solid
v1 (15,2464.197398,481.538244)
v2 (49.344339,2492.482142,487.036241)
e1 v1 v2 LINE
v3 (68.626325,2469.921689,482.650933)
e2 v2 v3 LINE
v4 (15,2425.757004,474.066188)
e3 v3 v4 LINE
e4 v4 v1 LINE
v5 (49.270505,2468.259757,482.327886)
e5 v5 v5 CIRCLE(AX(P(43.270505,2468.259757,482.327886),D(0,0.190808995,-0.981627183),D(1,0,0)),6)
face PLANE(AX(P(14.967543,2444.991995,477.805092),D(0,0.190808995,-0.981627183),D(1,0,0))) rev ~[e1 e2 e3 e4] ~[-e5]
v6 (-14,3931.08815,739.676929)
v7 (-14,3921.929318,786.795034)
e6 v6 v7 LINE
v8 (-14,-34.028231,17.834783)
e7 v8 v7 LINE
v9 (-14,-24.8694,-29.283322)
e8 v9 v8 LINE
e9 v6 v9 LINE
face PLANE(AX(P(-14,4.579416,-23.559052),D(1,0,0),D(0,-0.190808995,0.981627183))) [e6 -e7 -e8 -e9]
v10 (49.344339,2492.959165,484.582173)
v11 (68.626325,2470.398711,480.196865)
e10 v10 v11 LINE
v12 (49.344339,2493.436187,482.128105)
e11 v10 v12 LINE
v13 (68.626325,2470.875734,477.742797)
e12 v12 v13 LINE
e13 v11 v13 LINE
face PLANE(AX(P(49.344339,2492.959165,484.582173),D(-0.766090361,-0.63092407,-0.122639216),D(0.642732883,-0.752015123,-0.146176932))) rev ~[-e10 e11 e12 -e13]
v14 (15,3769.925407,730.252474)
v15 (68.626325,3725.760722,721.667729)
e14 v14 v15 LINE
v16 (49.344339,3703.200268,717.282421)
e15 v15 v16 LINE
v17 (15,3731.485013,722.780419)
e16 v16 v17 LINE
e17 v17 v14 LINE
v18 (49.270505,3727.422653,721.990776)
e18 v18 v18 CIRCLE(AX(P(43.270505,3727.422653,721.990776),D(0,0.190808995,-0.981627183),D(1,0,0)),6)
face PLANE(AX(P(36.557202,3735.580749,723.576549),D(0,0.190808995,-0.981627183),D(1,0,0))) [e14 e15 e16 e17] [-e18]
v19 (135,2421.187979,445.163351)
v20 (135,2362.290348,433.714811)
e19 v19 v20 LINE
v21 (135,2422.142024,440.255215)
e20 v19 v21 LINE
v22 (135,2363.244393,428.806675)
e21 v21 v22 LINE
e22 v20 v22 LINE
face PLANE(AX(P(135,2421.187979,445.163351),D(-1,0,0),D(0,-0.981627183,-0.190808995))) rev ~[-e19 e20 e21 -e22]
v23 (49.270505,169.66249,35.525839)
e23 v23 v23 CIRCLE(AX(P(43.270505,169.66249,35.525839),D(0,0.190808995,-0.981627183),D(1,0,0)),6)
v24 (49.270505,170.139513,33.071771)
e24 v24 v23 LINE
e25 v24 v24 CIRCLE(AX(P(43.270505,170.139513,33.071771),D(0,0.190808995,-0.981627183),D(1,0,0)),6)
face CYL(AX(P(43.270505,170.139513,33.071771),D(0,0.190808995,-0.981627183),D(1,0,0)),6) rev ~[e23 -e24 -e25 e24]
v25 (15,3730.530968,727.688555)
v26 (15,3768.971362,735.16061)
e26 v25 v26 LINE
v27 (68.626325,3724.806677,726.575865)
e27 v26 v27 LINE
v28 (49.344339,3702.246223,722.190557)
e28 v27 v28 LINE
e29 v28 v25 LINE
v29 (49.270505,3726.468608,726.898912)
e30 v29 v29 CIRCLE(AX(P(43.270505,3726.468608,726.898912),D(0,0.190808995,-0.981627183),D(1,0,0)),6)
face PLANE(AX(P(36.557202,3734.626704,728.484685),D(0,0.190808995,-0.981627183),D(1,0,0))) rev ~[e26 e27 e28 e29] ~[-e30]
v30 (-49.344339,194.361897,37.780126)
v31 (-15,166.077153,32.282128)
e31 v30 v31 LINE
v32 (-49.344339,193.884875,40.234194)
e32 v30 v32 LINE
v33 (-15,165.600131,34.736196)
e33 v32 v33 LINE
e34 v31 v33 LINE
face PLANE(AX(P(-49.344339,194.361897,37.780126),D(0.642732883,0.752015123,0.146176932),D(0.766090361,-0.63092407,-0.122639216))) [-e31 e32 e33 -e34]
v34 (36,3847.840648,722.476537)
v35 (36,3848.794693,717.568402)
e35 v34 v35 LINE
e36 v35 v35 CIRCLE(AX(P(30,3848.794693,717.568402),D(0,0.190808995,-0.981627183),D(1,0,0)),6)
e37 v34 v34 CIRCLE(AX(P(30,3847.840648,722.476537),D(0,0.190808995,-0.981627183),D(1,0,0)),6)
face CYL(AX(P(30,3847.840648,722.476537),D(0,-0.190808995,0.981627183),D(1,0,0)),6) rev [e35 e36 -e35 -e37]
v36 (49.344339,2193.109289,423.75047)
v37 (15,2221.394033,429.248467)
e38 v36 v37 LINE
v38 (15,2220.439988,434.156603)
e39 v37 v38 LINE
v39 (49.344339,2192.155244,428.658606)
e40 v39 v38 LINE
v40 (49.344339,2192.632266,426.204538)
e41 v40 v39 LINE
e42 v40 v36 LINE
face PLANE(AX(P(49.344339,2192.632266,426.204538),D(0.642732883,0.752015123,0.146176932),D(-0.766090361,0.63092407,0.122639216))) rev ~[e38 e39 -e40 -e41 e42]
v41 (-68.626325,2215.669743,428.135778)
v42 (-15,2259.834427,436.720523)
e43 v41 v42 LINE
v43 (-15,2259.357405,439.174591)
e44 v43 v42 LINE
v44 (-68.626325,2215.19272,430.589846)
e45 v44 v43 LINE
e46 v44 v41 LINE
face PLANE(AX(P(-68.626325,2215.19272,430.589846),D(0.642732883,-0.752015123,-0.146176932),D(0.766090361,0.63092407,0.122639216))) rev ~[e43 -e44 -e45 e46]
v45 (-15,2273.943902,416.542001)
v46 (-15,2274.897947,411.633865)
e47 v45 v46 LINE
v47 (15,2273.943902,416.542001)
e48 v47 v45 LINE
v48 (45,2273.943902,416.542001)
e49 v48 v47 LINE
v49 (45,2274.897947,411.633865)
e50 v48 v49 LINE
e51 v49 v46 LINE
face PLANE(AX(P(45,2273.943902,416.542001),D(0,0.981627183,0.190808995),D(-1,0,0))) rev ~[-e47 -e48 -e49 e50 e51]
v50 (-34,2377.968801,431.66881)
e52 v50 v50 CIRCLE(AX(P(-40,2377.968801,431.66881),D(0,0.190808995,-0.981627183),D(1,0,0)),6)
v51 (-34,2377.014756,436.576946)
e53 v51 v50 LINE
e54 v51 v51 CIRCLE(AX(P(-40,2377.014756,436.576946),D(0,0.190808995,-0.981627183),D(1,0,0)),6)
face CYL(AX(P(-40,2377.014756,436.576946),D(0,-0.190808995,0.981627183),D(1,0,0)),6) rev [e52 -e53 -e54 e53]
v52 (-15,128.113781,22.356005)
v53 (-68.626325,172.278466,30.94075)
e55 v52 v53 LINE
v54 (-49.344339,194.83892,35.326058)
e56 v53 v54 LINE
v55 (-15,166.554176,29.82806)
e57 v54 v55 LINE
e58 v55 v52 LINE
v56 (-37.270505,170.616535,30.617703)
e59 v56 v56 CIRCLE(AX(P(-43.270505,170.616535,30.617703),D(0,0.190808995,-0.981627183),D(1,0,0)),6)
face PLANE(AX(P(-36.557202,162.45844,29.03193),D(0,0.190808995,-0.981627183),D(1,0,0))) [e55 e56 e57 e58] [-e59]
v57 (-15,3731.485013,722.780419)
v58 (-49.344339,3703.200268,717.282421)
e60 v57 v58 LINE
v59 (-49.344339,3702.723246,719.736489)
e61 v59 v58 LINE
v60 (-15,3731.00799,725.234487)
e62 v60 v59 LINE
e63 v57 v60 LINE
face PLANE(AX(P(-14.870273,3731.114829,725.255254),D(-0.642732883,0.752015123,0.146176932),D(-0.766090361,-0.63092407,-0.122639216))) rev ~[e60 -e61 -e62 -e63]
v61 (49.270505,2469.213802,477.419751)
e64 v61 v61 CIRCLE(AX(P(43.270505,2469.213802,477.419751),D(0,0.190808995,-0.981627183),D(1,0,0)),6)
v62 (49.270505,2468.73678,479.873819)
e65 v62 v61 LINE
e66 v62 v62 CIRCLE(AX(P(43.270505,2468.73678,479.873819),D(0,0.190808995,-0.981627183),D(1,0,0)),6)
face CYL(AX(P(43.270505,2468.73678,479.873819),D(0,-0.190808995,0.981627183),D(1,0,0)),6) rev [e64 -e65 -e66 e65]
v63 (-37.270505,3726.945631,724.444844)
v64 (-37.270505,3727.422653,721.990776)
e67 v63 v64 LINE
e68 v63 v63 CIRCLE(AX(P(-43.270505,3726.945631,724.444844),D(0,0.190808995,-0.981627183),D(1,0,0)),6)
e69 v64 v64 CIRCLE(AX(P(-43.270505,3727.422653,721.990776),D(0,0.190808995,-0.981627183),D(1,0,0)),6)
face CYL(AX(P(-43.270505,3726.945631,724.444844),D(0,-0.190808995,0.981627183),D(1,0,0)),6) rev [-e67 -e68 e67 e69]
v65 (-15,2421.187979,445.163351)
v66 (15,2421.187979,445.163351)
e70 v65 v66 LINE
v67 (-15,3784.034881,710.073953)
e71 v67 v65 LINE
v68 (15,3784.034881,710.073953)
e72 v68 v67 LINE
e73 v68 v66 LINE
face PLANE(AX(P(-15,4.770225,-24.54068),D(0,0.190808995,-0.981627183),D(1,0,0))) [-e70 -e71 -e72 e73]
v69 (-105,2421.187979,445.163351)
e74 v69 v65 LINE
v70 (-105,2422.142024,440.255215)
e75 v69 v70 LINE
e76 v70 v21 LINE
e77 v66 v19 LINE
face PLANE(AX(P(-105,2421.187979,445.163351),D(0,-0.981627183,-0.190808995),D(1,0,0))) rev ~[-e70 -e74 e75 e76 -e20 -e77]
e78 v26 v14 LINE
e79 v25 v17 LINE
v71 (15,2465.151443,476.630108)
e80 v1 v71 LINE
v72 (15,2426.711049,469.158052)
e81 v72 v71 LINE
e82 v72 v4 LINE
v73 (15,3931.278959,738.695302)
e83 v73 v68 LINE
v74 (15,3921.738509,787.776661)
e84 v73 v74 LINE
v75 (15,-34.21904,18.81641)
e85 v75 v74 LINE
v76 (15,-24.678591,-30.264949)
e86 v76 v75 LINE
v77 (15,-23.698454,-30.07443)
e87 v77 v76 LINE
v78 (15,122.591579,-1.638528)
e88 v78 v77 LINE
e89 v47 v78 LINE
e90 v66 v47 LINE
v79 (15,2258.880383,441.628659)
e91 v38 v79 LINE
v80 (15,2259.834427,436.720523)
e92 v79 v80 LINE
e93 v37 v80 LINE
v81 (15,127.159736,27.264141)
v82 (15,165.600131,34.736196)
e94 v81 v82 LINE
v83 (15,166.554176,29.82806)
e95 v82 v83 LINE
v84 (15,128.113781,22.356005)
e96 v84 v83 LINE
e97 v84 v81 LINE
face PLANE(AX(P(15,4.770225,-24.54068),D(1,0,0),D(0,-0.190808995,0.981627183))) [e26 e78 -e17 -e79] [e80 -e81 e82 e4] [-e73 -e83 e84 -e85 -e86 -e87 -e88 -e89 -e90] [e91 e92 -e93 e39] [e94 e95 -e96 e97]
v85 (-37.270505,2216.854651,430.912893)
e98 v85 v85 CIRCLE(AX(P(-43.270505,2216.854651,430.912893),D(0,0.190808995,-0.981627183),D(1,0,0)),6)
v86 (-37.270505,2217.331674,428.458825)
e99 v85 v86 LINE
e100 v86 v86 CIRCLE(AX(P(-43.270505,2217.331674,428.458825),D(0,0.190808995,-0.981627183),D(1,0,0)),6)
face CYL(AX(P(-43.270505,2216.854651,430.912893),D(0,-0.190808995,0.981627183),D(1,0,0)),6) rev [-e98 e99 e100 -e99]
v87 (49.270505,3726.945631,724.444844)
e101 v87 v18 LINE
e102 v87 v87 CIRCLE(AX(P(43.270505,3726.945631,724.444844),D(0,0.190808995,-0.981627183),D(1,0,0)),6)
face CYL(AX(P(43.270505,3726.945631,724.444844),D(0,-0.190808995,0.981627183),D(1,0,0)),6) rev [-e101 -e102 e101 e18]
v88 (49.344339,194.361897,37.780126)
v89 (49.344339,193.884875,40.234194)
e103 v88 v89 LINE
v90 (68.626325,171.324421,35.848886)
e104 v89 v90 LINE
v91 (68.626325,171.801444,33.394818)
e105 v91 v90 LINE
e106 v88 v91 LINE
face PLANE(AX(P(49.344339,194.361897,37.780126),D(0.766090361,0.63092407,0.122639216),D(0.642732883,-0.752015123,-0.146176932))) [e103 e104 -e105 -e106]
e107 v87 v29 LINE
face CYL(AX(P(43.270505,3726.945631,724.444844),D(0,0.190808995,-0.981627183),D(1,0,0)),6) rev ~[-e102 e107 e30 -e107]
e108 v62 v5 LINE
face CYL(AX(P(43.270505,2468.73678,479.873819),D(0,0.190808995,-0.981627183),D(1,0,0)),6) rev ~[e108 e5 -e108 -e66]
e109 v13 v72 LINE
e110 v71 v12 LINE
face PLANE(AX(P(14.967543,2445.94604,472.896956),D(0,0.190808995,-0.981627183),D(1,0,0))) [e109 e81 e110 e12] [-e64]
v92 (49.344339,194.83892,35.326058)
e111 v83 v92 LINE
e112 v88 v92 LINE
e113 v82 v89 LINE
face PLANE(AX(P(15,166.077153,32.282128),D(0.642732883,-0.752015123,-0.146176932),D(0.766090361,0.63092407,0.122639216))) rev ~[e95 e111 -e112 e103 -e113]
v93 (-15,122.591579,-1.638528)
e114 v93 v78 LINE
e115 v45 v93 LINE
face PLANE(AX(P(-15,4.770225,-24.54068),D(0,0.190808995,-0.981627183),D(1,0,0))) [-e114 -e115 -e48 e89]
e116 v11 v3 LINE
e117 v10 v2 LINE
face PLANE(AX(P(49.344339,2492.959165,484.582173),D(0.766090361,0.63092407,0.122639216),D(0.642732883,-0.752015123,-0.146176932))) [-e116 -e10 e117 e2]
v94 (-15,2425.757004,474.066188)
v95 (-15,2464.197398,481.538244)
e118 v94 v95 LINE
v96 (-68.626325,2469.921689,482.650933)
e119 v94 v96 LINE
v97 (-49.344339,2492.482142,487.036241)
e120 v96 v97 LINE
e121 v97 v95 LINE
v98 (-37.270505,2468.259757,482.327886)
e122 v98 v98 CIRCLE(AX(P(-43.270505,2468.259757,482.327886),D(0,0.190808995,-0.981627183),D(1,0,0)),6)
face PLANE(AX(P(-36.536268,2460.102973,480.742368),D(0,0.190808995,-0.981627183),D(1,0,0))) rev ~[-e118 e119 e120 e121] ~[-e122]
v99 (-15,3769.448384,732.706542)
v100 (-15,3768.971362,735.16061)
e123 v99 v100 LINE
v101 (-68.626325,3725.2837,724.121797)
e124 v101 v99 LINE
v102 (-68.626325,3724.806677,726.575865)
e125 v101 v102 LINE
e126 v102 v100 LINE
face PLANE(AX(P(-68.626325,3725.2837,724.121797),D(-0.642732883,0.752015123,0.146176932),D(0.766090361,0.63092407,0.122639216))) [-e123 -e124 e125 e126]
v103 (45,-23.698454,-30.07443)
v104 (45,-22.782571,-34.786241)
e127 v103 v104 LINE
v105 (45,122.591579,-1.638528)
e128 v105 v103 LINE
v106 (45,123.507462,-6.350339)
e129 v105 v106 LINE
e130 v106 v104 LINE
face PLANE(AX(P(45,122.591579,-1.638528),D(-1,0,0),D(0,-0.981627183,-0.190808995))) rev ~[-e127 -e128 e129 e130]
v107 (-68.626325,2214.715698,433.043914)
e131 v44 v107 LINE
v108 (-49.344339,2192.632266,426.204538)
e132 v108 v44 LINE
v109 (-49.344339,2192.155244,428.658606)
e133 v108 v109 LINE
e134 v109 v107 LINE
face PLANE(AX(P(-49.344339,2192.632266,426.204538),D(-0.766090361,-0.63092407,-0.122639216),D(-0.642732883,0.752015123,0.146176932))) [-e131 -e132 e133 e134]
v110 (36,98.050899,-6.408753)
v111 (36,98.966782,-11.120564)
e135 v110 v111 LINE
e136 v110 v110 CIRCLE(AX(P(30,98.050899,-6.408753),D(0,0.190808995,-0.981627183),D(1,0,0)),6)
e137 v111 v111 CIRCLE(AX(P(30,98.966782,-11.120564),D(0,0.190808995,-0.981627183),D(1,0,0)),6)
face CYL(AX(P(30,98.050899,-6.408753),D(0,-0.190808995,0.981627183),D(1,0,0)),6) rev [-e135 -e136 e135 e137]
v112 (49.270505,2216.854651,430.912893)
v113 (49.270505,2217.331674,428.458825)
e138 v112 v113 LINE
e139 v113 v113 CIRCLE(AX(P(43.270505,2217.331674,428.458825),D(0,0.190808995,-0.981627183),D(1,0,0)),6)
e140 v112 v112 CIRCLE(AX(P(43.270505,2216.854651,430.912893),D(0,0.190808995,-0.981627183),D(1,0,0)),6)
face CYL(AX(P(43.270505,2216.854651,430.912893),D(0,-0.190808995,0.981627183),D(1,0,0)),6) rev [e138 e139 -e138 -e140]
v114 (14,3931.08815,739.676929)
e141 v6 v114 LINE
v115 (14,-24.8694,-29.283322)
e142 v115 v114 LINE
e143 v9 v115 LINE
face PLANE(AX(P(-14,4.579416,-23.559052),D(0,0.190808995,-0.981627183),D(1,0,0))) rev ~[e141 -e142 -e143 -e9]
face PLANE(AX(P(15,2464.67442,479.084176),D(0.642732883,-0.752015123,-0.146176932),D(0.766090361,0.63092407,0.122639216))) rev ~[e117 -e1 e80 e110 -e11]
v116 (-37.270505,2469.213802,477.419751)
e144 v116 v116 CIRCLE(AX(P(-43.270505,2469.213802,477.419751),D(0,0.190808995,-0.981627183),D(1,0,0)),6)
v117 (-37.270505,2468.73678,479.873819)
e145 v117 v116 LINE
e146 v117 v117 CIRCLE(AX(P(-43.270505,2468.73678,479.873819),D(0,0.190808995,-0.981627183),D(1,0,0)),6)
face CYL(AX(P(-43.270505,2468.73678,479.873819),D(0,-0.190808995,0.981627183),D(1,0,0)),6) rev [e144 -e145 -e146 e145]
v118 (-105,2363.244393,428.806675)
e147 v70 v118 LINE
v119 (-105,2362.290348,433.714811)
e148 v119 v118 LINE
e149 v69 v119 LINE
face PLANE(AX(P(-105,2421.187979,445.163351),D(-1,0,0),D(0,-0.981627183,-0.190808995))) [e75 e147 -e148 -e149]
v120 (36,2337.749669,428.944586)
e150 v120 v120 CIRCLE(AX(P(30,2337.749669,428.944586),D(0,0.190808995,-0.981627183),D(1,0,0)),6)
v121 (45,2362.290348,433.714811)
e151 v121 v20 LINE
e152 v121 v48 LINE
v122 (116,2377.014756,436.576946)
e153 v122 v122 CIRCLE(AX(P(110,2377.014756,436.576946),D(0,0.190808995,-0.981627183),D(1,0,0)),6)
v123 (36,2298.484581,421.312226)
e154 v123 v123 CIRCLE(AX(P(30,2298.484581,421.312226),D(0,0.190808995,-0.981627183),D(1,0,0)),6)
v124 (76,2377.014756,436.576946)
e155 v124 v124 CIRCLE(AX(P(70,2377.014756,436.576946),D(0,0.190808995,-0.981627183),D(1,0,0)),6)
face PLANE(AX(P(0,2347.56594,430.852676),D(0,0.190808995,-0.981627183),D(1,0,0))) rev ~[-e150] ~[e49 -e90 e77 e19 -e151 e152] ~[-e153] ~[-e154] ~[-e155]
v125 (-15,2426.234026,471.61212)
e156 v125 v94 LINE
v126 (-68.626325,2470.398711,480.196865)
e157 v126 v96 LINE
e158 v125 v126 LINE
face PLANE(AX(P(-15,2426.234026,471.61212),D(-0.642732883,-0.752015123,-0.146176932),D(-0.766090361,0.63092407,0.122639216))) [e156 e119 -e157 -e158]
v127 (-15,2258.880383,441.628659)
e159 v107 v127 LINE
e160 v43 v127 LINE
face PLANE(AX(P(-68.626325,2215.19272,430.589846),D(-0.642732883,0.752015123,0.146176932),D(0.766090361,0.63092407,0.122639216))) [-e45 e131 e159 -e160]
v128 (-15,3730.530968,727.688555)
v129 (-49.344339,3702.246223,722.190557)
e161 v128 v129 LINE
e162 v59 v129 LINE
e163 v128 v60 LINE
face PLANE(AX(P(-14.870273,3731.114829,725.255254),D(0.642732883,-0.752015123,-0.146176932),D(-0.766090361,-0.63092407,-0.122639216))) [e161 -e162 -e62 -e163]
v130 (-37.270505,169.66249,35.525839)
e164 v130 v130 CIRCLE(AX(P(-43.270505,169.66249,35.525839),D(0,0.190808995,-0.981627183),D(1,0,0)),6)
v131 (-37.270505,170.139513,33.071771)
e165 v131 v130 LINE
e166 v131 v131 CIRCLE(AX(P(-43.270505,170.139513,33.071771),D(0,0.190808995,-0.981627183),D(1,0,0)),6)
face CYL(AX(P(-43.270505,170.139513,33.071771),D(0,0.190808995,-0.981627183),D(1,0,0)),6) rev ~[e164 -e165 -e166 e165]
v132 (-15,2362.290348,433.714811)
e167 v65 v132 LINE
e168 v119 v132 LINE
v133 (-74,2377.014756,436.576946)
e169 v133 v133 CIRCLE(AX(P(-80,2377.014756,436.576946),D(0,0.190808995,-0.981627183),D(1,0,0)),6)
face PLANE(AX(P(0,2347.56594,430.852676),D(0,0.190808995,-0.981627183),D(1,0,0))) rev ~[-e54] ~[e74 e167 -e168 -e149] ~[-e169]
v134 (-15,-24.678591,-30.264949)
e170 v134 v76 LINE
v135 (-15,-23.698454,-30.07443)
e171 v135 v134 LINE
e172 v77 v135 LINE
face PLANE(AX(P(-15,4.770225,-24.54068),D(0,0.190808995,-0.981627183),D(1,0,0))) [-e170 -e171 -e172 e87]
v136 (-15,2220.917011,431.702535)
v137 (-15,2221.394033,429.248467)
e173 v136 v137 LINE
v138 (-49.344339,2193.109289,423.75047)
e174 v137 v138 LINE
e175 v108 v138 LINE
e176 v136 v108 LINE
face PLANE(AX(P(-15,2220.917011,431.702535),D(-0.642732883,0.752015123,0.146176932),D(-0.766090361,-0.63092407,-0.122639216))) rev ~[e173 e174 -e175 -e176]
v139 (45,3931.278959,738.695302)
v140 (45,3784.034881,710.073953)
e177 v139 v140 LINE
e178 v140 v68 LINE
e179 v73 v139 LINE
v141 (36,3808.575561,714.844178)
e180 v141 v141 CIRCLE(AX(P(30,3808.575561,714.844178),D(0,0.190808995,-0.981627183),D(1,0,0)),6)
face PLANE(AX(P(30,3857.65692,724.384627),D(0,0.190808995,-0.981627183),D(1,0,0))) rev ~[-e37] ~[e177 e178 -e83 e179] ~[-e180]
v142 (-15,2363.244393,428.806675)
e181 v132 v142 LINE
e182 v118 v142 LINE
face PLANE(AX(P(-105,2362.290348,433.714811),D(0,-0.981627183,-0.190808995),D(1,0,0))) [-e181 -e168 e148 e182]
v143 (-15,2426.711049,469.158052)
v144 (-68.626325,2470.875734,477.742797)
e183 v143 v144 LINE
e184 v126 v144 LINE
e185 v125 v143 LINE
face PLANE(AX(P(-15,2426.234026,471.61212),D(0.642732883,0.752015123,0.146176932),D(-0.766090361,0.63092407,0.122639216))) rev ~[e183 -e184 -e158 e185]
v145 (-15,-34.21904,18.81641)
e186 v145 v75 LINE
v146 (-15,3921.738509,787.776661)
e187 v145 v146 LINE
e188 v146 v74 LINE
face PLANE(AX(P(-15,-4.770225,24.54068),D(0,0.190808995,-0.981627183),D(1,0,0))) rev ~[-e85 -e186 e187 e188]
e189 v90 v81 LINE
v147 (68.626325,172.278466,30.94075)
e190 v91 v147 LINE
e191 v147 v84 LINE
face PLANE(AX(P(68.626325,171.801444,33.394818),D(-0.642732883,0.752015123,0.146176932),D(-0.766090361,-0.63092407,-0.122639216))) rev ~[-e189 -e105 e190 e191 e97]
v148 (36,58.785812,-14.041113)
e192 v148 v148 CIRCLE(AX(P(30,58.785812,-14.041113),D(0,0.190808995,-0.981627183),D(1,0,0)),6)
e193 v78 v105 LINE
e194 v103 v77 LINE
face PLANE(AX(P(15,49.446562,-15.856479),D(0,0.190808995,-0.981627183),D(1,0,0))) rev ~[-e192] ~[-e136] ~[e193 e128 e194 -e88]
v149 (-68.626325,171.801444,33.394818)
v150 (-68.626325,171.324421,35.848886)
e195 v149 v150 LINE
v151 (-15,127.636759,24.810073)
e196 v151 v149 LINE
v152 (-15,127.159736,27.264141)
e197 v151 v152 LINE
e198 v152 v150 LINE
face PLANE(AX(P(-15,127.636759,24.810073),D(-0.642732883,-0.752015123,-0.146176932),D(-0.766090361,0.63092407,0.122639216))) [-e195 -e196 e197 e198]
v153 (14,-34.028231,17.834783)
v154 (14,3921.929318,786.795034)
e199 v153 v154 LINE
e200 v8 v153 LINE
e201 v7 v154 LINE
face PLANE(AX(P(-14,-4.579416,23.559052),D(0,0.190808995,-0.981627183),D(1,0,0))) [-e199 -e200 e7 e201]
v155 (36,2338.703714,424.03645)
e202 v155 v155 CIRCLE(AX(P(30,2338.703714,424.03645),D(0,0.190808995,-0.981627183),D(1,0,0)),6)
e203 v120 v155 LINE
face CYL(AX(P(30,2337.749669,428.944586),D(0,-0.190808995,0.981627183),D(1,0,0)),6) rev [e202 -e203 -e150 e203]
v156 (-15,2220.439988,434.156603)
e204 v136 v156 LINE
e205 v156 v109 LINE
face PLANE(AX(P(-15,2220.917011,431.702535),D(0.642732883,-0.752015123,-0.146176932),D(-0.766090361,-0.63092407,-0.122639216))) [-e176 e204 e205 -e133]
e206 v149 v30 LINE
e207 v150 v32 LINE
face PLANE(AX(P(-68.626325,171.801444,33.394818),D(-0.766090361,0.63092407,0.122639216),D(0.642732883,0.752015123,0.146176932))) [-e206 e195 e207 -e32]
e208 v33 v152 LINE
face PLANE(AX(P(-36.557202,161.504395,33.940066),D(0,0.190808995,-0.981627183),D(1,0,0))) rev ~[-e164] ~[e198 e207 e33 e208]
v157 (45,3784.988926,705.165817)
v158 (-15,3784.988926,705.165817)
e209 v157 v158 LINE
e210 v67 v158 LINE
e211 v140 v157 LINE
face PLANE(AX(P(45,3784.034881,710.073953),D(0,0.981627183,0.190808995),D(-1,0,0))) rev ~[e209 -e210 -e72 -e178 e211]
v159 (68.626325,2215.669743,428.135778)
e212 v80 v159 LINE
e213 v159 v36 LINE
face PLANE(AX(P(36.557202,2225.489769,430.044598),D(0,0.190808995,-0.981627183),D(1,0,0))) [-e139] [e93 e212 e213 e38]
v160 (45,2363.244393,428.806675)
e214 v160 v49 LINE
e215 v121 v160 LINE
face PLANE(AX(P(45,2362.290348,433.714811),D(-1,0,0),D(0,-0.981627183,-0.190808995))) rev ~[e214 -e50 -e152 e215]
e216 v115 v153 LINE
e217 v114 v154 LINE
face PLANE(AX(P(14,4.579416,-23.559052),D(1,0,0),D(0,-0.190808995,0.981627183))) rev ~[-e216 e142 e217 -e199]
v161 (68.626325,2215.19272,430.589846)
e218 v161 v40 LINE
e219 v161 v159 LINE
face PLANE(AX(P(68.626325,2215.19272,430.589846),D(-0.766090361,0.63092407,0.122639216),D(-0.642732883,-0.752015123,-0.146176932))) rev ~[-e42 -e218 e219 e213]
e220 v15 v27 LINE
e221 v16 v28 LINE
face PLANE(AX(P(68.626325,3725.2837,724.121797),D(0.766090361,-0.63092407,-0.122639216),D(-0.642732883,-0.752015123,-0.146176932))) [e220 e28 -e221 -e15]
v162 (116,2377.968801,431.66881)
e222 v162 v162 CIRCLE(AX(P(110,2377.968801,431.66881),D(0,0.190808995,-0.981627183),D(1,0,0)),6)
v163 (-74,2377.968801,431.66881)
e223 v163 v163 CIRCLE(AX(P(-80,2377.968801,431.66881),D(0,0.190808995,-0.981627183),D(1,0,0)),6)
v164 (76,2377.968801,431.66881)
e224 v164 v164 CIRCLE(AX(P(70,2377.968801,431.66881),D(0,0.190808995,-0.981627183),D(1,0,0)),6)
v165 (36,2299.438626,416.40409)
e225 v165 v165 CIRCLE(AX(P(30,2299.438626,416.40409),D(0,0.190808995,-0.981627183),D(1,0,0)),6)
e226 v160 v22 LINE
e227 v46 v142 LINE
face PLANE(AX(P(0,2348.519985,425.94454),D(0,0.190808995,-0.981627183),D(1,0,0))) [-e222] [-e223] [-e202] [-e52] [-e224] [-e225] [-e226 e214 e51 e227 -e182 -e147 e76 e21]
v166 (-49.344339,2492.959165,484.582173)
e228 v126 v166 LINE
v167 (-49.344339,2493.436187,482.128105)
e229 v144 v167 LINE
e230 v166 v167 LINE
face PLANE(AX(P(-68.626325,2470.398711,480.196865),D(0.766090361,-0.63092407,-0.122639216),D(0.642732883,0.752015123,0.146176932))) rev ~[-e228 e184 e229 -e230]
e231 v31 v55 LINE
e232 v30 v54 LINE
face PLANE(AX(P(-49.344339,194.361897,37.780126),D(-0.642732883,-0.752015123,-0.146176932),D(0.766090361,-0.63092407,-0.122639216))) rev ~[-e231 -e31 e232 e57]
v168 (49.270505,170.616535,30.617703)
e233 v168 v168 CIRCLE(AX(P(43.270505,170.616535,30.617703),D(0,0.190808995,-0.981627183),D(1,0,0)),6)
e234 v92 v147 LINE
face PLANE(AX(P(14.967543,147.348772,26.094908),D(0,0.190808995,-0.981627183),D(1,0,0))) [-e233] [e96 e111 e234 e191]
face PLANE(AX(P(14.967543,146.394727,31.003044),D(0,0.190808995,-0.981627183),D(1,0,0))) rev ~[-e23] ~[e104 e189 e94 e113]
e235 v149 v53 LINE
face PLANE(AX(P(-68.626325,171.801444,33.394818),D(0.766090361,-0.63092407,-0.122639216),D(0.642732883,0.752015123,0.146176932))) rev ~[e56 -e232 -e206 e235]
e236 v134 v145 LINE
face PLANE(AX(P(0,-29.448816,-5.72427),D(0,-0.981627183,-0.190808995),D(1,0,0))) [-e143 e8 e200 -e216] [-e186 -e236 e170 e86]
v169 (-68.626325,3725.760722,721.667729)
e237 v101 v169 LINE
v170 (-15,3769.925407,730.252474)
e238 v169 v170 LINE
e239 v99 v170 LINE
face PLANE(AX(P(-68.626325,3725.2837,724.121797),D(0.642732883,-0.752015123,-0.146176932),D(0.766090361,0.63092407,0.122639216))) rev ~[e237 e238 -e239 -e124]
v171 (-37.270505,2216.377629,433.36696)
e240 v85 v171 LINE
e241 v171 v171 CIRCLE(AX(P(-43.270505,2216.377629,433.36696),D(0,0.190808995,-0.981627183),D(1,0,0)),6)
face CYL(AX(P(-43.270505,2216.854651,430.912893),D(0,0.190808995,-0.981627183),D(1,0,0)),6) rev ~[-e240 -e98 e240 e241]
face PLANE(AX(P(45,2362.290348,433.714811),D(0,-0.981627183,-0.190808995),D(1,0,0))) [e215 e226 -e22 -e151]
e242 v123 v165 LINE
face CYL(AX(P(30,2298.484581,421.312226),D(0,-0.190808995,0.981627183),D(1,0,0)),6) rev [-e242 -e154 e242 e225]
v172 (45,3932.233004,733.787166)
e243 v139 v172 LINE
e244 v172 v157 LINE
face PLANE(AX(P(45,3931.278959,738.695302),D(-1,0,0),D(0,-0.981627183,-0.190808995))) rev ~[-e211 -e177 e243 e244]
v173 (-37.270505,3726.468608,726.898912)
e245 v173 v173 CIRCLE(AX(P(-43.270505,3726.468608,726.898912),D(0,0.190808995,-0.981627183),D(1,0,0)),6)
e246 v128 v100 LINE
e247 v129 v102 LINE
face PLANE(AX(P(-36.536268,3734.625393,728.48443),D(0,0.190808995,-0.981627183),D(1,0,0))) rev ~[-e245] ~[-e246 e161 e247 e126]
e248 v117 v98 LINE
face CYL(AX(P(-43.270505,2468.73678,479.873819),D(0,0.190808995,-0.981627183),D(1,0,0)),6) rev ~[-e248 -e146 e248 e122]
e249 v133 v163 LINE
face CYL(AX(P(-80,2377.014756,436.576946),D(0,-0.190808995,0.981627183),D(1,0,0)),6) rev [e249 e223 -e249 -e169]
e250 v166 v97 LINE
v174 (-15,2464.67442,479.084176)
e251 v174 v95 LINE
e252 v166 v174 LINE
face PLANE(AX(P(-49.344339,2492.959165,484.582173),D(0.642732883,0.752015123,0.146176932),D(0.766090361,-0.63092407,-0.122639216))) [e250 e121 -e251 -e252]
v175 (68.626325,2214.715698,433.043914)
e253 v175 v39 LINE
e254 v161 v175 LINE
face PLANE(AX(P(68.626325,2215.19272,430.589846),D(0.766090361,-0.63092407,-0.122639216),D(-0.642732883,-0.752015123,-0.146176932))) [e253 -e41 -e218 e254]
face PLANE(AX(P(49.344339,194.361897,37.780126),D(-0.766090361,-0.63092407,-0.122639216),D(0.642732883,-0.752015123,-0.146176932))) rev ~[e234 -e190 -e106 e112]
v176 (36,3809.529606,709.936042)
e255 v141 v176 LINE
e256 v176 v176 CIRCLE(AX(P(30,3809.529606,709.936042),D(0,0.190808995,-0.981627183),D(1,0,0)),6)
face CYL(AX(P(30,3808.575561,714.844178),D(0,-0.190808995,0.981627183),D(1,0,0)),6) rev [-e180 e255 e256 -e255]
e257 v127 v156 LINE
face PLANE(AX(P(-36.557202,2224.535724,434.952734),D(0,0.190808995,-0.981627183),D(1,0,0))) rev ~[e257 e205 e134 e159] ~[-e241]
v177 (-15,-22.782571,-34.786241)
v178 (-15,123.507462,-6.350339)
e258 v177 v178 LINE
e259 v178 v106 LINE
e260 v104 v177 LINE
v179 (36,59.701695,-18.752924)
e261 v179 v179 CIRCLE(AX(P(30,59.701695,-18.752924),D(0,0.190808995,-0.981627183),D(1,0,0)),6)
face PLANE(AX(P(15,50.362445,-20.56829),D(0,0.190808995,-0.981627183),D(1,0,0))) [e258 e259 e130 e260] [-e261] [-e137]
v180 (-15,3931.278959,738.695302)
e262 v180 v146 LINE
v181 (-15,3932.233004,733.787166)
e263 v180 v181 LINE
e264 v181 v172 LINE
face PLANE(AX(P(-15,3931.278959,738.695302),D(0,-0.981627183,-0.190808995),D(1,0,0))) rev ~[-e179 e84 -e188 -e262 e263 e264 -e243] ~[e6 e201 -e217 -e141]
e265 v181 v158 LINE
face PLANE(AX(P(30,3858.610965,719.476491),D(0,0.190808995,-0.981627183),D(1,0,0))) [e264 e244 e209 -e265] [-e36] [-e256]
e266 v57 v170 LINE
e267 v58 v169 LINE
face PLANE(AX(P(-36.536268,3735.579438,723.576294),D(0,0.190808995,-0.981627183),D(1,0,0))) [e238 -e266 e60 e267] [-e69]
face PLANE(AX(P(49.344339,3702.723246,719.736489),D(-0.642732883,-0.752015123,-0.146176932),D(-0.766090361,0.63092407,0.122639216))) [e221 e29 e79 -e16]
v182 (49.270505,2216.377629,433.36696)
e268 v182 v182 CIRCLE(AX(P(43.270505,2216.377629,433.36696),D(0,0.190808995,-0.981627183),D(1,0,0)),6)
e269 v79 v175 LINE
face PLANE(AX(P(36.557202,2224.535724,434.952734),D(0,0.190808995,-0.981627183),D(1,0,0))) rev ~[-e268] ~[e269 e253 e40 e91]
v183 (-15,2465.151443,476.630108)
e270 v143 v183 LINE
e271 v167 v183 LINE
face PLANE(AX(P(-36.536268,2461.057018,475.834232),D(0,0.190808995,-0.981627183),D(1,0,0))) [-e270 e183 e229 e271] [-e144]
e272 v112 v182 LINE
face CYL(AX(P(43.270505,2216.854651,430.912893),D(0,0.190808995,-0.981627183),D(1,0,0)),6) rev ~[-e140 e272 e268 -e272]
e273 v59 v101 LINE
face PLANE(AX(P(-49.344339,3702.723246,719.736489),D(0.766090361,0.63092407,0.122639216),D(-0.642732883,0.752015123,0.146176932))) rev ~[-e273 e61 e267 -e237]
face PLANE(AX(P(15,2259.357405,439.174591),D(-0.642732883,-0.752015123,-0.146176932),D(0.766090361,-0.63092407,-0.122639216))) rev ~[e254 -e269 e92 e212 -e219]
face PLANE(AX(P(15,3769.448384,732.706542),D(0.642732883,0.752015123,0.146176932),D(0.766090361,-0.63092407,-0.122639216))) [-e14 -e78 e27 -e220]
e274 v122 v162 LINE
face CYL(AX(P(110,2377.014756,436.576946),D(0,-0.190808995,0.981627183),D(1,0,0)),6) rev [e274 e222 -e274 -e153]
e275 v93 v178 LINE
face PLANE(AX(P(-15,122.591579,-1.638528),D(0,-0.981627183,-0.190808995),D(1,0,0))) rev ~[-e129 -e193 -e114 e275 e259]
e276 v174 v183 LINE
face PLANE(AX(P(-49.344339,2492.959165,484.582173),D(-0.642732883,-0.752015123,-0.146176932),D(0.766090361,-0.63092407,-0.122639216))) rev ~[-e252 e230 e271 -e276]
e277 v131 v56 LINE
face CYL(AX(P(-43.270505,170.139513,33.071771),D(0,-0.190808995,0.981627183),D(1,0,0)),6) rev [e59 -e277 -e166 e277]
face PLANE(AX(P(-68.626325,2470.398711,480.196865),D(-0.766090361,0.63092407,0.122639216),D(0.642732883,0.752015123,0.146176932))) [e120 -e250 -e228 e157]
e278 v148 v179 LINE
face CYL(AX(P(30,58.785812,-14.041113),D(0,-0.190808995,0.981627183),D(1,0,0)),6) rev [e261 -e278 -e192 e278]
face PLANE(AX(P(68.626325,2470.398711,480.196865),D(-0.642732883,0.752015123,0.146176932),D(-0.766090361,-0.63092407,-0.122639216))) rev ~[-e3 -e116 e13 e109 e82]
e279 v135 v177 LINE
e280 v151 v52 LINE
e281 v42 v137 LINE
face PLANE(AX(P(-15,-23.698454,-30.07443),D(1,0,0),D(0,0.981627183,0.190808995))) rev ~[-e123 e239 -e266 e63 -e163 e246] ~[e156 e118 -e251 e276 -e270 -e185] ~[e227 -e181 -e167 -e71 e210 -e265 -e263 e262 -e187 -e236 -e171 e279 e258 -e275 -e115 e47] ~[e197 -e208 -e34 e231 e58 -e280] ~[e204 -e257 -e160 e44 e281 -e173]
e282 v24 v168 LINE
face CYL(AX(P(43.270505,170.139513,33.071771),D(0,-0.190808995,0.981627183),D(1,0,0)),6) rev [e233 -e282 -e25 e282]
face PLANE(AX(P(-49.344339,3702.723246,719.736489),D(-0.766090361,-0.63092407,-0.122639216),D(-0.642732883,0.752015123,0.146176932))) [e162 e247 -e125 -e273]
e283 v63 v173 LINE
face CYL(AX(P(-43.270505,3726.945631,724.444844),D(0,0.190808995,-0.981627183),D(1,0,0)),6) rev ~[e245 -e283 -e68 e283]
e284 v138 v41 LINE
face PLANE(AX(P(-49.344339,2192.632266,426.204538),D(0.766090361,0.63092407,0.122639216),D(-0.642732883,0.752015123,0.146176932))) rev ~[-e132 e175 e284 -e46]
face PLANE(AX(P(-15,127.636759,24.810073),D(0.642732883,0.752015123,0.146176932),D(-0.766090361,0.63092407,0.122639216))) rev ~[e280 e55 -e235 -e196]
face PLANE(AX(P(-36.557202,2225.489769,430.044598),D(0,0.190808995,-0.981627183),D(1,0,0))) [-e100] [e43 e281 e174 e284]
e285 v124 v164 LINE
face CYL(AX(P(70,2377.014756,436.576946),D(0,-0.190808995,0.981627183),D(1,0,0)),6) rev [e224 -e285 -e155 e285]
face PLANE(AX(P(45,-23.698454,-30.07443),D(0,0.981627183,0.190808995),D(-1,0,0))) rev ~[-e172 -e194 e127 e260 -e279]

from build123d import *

# Parameters (mm, degrees)
F3_W           = 30
F3_H           = 50
F3_W_2         = 28
F3_H_2         = 48
F4_DEPTH       = 30
F4_DEPTH_BACK  = 4000
F5_R           = 6
F5_W           = 30
F5_H           = 150
F6_DEPTH       = 5
F7_R           = 6
F7_W           = 90
F7_H           = 60
F8_DEPTH       = 5
F9_R           = 6
F10_DEPTH      = 4.8
F11_R          = 6
F12_DEPTH      = 2.5
F12_DEPTH_BACK = 2.5


with BuildPart() as f4:
    # F3 (on face) → F4 (new body, two sides)
    with BuildSketch(Plane(origin=(0, 0, 0), x_dir=(1, 0, 0), z_dir=(0, -0.9816271834, -0.1908089954))) as f4_sk:
        Rectangle(F3_W, F3_H)
        Rectangle(F3_W_2, F3_H_2, mode=Mode.SUBTRACT)
    extrude(amount=F4_DEPTH)
    extrude(f4_sk.sketch, amount=-F4_DEPTH_BACK)

    # F5 (on face) → F6 (join)
    with BuildSketch(Plane(origin=(0, 4.7702248844, -24.5406795862), x_dir=(1, 0, 0), z_dir=(0, 0.1908089954, -0.9816271834))):
        Polygon((15, -4000), (45, -4000), (45, -3940), (45, -3850), (15, -3850), align=None)
        with Locations((30, -3915)):
            Circle(F5_R, mode=Mode.SUBTRACT)
        with Locations((30, -3875)):
            Circle(F5_R, mode=Mode.SUBTRACT)
        with Locations((0, -3925)):
            Rectangle(F5_W, F5_H)
    extrude(amount=F6_DEPTH)

    # F7 (on face) → F8 (join)
    with BuildSketch(Plane(origin=(0, 4.7702248844, -24.5406795862), x_dir=(1, 0, 0), z_dir=(0, 0.1908089954, -0.9816271834))):
        Polygon((15, -2461.6451083533), (15, -2311.6451083533), (-15, -2311.6451083533), (-15, -2401.6451083533), (-15, -2461.6451083533), align=None)
        Polygon((45, -2461.6451083533), (45, -2401.6451083533), (45, -2311.6451083533), (15, -2311.6451083533), (15, -2461.6451083533), align=None)
        with Locations((30, -2376.6451083533)):
            Circle(F7_R, mode=Mode.SUBTRACT)
        with Locations((30, -2336.6451083533)):
            Circle(F7_R, mode=Mode.SUBTRACT)
        with Locations((-60, -2431.6451083533)):
            Rectangle(F7_W, F7_H)
        with Locations((-80, -2416.6451083533)):
            Circle(F7_R, mode=Mode.SUBTRACT)
        with Locations((-40, -2416.6451083533)):
            Circle(F7_R, mode=Mode.SUBTRACT)
        with Locations((90, -2431.6451083533)):
            Rectangle(F7_W, F7_H)
        with Locations((70, -2416.6451083533)):
            Circle(F7_R, mode=Mode.SUBTRACT)
        with Locations((110, -2416.6451083533)):
            Circle(F7_R, mode=Mode.SUBTRACT)
    extrude(amount=F8_DEPTH)

    # F9 (on face) → F10 (join)
    with BuildSketch(Plane(origin=(0, 4.7702248844, -24.5406795862), x_dir=(1, 0, 0), z_dir=(0, 0.1908089954, -0.9816271834))):
        Polygon((-15, 29.0015184707), (-15, -120.0265799836), (45, -120.0265799836), (45, -30.0265799836), (45, 29.0015184707), align=None)
        with Locations((30, -95.0265799837)):
            Circle(F9_R, mode=Mode.SUBTRACT)
        with Locations((30, -55.0265799837)):
            Circle(F9_R, mode=Mode.SUBTRACT)
    extrude(amount=F10_DEPTH)

    # F11 (on line) → F12 (join, two sides)
    with BuildSketch(Plane(origin=(0, 0, 0), x_dir=(1, 0, 0), z_dir=(0, 0.1908089954, -0.9816271834))) as f12_sk:
        Polygon((15, -3800.8401286151), (15, -3840), (68.6263252593, -3795.0086981831), (49.3443387664, -3772.0259873577), align=None)
        with Locations((43.2705051734, -3796.7017352104)):
            Circle(F11_R, mode=Mode.SUBTRACT)
        Polygon((14.8702725282, -2510.6961412562), (15, -2510.8049797382), (15, -2471.6451083533), align=None)
        Polygon((15, -2471.6451083533), (15, -2510.8049797382), (49.3443387664, -2539.6191209957), (68.6263252593, -2516.6364101702), align=None)
        with Locations((43.2705051734, -2514.943373143)):
            Circle(F11_R, mode=Mode.SUBTRACT)
        Polygon((14.8702725282, -3800.9489670971), (15, -3840), (15, -3800.8401286151), align=None)
        Polygon((49.3443387664, -2233.671095711), (15, -2262.4852369684), (15, -2301.6451083533), (68.6263252593, -2256.6538065364), align=None)
        with Locations((43.2705051734, -2258.3468435637)):
            Circle(F11_R, mode=Mode.SUBTRACT)
        Polygon((15, -2301.6451083533), (15, -2262.4852369684), (14.8702725282, -2262.5940754504), align=None)
        Polygon((15, -169.185568556), (15, -130.0256971711), (14.8702725282, -169.0767300739), align=None)
        Polygon((68.6263252593, -175.016998988), (15, -130.0256971711), (15, -169.185568556), (49.3443387664, -197.9997098134), align=None)
        with Locations((43.2705051734, -173.3239619607)):
            Circle(F11_R, mode=Mode.SUBTRACT)
        Polygon((-68.6263252593, -175.016998988), (-49.3443387664, -197.9997098134), (-15, -169.185568556), (-15, -130.0256971711), align=None)
        with Locations((-43.2705051734, -173.3239619607)):
            Circle(F11_R, mode=Mode.SUBTRACT)
        Polygon((-15, -2301.6451083533), (-15, -2262.4852369684), (-49.3443387664, -2233.671095711), (-68.6263252593, -2256.6538065364), align=None)
        with Locations((-43.2705051734, -2258.3468435637)):
            Circle(F11_R, mode=Mode.SUBTRACT)
        Polygon((-14.8702725282, -2510.6961412562), (-15, -2471.6451083533), (-68.6263252593, -2516.6364101702), (-49.3443387664, -2539.6191209957), align=None)
        with Locations((-43.2705051734, -2514.943373143)):
            Circle(F11_R, mode=Mode.SUBTRACT)
        Polygon((-68.6263252593, -3795.0086981831), (-15, -3840), (-14.8702725282, -3800.9489670971), (-49.3443387664, -3772.0259873577), align=None)
        with Locations((-43.2705051734, -3796.7017352104)):
            Circle(F11_R, mode=Mode.SUBTRACT)
    extrude(amount=F12_DEPTH)
    extrude(f12_sk.sketch, amount=-F12_DEPTH_BACK)


solid = f4.part
